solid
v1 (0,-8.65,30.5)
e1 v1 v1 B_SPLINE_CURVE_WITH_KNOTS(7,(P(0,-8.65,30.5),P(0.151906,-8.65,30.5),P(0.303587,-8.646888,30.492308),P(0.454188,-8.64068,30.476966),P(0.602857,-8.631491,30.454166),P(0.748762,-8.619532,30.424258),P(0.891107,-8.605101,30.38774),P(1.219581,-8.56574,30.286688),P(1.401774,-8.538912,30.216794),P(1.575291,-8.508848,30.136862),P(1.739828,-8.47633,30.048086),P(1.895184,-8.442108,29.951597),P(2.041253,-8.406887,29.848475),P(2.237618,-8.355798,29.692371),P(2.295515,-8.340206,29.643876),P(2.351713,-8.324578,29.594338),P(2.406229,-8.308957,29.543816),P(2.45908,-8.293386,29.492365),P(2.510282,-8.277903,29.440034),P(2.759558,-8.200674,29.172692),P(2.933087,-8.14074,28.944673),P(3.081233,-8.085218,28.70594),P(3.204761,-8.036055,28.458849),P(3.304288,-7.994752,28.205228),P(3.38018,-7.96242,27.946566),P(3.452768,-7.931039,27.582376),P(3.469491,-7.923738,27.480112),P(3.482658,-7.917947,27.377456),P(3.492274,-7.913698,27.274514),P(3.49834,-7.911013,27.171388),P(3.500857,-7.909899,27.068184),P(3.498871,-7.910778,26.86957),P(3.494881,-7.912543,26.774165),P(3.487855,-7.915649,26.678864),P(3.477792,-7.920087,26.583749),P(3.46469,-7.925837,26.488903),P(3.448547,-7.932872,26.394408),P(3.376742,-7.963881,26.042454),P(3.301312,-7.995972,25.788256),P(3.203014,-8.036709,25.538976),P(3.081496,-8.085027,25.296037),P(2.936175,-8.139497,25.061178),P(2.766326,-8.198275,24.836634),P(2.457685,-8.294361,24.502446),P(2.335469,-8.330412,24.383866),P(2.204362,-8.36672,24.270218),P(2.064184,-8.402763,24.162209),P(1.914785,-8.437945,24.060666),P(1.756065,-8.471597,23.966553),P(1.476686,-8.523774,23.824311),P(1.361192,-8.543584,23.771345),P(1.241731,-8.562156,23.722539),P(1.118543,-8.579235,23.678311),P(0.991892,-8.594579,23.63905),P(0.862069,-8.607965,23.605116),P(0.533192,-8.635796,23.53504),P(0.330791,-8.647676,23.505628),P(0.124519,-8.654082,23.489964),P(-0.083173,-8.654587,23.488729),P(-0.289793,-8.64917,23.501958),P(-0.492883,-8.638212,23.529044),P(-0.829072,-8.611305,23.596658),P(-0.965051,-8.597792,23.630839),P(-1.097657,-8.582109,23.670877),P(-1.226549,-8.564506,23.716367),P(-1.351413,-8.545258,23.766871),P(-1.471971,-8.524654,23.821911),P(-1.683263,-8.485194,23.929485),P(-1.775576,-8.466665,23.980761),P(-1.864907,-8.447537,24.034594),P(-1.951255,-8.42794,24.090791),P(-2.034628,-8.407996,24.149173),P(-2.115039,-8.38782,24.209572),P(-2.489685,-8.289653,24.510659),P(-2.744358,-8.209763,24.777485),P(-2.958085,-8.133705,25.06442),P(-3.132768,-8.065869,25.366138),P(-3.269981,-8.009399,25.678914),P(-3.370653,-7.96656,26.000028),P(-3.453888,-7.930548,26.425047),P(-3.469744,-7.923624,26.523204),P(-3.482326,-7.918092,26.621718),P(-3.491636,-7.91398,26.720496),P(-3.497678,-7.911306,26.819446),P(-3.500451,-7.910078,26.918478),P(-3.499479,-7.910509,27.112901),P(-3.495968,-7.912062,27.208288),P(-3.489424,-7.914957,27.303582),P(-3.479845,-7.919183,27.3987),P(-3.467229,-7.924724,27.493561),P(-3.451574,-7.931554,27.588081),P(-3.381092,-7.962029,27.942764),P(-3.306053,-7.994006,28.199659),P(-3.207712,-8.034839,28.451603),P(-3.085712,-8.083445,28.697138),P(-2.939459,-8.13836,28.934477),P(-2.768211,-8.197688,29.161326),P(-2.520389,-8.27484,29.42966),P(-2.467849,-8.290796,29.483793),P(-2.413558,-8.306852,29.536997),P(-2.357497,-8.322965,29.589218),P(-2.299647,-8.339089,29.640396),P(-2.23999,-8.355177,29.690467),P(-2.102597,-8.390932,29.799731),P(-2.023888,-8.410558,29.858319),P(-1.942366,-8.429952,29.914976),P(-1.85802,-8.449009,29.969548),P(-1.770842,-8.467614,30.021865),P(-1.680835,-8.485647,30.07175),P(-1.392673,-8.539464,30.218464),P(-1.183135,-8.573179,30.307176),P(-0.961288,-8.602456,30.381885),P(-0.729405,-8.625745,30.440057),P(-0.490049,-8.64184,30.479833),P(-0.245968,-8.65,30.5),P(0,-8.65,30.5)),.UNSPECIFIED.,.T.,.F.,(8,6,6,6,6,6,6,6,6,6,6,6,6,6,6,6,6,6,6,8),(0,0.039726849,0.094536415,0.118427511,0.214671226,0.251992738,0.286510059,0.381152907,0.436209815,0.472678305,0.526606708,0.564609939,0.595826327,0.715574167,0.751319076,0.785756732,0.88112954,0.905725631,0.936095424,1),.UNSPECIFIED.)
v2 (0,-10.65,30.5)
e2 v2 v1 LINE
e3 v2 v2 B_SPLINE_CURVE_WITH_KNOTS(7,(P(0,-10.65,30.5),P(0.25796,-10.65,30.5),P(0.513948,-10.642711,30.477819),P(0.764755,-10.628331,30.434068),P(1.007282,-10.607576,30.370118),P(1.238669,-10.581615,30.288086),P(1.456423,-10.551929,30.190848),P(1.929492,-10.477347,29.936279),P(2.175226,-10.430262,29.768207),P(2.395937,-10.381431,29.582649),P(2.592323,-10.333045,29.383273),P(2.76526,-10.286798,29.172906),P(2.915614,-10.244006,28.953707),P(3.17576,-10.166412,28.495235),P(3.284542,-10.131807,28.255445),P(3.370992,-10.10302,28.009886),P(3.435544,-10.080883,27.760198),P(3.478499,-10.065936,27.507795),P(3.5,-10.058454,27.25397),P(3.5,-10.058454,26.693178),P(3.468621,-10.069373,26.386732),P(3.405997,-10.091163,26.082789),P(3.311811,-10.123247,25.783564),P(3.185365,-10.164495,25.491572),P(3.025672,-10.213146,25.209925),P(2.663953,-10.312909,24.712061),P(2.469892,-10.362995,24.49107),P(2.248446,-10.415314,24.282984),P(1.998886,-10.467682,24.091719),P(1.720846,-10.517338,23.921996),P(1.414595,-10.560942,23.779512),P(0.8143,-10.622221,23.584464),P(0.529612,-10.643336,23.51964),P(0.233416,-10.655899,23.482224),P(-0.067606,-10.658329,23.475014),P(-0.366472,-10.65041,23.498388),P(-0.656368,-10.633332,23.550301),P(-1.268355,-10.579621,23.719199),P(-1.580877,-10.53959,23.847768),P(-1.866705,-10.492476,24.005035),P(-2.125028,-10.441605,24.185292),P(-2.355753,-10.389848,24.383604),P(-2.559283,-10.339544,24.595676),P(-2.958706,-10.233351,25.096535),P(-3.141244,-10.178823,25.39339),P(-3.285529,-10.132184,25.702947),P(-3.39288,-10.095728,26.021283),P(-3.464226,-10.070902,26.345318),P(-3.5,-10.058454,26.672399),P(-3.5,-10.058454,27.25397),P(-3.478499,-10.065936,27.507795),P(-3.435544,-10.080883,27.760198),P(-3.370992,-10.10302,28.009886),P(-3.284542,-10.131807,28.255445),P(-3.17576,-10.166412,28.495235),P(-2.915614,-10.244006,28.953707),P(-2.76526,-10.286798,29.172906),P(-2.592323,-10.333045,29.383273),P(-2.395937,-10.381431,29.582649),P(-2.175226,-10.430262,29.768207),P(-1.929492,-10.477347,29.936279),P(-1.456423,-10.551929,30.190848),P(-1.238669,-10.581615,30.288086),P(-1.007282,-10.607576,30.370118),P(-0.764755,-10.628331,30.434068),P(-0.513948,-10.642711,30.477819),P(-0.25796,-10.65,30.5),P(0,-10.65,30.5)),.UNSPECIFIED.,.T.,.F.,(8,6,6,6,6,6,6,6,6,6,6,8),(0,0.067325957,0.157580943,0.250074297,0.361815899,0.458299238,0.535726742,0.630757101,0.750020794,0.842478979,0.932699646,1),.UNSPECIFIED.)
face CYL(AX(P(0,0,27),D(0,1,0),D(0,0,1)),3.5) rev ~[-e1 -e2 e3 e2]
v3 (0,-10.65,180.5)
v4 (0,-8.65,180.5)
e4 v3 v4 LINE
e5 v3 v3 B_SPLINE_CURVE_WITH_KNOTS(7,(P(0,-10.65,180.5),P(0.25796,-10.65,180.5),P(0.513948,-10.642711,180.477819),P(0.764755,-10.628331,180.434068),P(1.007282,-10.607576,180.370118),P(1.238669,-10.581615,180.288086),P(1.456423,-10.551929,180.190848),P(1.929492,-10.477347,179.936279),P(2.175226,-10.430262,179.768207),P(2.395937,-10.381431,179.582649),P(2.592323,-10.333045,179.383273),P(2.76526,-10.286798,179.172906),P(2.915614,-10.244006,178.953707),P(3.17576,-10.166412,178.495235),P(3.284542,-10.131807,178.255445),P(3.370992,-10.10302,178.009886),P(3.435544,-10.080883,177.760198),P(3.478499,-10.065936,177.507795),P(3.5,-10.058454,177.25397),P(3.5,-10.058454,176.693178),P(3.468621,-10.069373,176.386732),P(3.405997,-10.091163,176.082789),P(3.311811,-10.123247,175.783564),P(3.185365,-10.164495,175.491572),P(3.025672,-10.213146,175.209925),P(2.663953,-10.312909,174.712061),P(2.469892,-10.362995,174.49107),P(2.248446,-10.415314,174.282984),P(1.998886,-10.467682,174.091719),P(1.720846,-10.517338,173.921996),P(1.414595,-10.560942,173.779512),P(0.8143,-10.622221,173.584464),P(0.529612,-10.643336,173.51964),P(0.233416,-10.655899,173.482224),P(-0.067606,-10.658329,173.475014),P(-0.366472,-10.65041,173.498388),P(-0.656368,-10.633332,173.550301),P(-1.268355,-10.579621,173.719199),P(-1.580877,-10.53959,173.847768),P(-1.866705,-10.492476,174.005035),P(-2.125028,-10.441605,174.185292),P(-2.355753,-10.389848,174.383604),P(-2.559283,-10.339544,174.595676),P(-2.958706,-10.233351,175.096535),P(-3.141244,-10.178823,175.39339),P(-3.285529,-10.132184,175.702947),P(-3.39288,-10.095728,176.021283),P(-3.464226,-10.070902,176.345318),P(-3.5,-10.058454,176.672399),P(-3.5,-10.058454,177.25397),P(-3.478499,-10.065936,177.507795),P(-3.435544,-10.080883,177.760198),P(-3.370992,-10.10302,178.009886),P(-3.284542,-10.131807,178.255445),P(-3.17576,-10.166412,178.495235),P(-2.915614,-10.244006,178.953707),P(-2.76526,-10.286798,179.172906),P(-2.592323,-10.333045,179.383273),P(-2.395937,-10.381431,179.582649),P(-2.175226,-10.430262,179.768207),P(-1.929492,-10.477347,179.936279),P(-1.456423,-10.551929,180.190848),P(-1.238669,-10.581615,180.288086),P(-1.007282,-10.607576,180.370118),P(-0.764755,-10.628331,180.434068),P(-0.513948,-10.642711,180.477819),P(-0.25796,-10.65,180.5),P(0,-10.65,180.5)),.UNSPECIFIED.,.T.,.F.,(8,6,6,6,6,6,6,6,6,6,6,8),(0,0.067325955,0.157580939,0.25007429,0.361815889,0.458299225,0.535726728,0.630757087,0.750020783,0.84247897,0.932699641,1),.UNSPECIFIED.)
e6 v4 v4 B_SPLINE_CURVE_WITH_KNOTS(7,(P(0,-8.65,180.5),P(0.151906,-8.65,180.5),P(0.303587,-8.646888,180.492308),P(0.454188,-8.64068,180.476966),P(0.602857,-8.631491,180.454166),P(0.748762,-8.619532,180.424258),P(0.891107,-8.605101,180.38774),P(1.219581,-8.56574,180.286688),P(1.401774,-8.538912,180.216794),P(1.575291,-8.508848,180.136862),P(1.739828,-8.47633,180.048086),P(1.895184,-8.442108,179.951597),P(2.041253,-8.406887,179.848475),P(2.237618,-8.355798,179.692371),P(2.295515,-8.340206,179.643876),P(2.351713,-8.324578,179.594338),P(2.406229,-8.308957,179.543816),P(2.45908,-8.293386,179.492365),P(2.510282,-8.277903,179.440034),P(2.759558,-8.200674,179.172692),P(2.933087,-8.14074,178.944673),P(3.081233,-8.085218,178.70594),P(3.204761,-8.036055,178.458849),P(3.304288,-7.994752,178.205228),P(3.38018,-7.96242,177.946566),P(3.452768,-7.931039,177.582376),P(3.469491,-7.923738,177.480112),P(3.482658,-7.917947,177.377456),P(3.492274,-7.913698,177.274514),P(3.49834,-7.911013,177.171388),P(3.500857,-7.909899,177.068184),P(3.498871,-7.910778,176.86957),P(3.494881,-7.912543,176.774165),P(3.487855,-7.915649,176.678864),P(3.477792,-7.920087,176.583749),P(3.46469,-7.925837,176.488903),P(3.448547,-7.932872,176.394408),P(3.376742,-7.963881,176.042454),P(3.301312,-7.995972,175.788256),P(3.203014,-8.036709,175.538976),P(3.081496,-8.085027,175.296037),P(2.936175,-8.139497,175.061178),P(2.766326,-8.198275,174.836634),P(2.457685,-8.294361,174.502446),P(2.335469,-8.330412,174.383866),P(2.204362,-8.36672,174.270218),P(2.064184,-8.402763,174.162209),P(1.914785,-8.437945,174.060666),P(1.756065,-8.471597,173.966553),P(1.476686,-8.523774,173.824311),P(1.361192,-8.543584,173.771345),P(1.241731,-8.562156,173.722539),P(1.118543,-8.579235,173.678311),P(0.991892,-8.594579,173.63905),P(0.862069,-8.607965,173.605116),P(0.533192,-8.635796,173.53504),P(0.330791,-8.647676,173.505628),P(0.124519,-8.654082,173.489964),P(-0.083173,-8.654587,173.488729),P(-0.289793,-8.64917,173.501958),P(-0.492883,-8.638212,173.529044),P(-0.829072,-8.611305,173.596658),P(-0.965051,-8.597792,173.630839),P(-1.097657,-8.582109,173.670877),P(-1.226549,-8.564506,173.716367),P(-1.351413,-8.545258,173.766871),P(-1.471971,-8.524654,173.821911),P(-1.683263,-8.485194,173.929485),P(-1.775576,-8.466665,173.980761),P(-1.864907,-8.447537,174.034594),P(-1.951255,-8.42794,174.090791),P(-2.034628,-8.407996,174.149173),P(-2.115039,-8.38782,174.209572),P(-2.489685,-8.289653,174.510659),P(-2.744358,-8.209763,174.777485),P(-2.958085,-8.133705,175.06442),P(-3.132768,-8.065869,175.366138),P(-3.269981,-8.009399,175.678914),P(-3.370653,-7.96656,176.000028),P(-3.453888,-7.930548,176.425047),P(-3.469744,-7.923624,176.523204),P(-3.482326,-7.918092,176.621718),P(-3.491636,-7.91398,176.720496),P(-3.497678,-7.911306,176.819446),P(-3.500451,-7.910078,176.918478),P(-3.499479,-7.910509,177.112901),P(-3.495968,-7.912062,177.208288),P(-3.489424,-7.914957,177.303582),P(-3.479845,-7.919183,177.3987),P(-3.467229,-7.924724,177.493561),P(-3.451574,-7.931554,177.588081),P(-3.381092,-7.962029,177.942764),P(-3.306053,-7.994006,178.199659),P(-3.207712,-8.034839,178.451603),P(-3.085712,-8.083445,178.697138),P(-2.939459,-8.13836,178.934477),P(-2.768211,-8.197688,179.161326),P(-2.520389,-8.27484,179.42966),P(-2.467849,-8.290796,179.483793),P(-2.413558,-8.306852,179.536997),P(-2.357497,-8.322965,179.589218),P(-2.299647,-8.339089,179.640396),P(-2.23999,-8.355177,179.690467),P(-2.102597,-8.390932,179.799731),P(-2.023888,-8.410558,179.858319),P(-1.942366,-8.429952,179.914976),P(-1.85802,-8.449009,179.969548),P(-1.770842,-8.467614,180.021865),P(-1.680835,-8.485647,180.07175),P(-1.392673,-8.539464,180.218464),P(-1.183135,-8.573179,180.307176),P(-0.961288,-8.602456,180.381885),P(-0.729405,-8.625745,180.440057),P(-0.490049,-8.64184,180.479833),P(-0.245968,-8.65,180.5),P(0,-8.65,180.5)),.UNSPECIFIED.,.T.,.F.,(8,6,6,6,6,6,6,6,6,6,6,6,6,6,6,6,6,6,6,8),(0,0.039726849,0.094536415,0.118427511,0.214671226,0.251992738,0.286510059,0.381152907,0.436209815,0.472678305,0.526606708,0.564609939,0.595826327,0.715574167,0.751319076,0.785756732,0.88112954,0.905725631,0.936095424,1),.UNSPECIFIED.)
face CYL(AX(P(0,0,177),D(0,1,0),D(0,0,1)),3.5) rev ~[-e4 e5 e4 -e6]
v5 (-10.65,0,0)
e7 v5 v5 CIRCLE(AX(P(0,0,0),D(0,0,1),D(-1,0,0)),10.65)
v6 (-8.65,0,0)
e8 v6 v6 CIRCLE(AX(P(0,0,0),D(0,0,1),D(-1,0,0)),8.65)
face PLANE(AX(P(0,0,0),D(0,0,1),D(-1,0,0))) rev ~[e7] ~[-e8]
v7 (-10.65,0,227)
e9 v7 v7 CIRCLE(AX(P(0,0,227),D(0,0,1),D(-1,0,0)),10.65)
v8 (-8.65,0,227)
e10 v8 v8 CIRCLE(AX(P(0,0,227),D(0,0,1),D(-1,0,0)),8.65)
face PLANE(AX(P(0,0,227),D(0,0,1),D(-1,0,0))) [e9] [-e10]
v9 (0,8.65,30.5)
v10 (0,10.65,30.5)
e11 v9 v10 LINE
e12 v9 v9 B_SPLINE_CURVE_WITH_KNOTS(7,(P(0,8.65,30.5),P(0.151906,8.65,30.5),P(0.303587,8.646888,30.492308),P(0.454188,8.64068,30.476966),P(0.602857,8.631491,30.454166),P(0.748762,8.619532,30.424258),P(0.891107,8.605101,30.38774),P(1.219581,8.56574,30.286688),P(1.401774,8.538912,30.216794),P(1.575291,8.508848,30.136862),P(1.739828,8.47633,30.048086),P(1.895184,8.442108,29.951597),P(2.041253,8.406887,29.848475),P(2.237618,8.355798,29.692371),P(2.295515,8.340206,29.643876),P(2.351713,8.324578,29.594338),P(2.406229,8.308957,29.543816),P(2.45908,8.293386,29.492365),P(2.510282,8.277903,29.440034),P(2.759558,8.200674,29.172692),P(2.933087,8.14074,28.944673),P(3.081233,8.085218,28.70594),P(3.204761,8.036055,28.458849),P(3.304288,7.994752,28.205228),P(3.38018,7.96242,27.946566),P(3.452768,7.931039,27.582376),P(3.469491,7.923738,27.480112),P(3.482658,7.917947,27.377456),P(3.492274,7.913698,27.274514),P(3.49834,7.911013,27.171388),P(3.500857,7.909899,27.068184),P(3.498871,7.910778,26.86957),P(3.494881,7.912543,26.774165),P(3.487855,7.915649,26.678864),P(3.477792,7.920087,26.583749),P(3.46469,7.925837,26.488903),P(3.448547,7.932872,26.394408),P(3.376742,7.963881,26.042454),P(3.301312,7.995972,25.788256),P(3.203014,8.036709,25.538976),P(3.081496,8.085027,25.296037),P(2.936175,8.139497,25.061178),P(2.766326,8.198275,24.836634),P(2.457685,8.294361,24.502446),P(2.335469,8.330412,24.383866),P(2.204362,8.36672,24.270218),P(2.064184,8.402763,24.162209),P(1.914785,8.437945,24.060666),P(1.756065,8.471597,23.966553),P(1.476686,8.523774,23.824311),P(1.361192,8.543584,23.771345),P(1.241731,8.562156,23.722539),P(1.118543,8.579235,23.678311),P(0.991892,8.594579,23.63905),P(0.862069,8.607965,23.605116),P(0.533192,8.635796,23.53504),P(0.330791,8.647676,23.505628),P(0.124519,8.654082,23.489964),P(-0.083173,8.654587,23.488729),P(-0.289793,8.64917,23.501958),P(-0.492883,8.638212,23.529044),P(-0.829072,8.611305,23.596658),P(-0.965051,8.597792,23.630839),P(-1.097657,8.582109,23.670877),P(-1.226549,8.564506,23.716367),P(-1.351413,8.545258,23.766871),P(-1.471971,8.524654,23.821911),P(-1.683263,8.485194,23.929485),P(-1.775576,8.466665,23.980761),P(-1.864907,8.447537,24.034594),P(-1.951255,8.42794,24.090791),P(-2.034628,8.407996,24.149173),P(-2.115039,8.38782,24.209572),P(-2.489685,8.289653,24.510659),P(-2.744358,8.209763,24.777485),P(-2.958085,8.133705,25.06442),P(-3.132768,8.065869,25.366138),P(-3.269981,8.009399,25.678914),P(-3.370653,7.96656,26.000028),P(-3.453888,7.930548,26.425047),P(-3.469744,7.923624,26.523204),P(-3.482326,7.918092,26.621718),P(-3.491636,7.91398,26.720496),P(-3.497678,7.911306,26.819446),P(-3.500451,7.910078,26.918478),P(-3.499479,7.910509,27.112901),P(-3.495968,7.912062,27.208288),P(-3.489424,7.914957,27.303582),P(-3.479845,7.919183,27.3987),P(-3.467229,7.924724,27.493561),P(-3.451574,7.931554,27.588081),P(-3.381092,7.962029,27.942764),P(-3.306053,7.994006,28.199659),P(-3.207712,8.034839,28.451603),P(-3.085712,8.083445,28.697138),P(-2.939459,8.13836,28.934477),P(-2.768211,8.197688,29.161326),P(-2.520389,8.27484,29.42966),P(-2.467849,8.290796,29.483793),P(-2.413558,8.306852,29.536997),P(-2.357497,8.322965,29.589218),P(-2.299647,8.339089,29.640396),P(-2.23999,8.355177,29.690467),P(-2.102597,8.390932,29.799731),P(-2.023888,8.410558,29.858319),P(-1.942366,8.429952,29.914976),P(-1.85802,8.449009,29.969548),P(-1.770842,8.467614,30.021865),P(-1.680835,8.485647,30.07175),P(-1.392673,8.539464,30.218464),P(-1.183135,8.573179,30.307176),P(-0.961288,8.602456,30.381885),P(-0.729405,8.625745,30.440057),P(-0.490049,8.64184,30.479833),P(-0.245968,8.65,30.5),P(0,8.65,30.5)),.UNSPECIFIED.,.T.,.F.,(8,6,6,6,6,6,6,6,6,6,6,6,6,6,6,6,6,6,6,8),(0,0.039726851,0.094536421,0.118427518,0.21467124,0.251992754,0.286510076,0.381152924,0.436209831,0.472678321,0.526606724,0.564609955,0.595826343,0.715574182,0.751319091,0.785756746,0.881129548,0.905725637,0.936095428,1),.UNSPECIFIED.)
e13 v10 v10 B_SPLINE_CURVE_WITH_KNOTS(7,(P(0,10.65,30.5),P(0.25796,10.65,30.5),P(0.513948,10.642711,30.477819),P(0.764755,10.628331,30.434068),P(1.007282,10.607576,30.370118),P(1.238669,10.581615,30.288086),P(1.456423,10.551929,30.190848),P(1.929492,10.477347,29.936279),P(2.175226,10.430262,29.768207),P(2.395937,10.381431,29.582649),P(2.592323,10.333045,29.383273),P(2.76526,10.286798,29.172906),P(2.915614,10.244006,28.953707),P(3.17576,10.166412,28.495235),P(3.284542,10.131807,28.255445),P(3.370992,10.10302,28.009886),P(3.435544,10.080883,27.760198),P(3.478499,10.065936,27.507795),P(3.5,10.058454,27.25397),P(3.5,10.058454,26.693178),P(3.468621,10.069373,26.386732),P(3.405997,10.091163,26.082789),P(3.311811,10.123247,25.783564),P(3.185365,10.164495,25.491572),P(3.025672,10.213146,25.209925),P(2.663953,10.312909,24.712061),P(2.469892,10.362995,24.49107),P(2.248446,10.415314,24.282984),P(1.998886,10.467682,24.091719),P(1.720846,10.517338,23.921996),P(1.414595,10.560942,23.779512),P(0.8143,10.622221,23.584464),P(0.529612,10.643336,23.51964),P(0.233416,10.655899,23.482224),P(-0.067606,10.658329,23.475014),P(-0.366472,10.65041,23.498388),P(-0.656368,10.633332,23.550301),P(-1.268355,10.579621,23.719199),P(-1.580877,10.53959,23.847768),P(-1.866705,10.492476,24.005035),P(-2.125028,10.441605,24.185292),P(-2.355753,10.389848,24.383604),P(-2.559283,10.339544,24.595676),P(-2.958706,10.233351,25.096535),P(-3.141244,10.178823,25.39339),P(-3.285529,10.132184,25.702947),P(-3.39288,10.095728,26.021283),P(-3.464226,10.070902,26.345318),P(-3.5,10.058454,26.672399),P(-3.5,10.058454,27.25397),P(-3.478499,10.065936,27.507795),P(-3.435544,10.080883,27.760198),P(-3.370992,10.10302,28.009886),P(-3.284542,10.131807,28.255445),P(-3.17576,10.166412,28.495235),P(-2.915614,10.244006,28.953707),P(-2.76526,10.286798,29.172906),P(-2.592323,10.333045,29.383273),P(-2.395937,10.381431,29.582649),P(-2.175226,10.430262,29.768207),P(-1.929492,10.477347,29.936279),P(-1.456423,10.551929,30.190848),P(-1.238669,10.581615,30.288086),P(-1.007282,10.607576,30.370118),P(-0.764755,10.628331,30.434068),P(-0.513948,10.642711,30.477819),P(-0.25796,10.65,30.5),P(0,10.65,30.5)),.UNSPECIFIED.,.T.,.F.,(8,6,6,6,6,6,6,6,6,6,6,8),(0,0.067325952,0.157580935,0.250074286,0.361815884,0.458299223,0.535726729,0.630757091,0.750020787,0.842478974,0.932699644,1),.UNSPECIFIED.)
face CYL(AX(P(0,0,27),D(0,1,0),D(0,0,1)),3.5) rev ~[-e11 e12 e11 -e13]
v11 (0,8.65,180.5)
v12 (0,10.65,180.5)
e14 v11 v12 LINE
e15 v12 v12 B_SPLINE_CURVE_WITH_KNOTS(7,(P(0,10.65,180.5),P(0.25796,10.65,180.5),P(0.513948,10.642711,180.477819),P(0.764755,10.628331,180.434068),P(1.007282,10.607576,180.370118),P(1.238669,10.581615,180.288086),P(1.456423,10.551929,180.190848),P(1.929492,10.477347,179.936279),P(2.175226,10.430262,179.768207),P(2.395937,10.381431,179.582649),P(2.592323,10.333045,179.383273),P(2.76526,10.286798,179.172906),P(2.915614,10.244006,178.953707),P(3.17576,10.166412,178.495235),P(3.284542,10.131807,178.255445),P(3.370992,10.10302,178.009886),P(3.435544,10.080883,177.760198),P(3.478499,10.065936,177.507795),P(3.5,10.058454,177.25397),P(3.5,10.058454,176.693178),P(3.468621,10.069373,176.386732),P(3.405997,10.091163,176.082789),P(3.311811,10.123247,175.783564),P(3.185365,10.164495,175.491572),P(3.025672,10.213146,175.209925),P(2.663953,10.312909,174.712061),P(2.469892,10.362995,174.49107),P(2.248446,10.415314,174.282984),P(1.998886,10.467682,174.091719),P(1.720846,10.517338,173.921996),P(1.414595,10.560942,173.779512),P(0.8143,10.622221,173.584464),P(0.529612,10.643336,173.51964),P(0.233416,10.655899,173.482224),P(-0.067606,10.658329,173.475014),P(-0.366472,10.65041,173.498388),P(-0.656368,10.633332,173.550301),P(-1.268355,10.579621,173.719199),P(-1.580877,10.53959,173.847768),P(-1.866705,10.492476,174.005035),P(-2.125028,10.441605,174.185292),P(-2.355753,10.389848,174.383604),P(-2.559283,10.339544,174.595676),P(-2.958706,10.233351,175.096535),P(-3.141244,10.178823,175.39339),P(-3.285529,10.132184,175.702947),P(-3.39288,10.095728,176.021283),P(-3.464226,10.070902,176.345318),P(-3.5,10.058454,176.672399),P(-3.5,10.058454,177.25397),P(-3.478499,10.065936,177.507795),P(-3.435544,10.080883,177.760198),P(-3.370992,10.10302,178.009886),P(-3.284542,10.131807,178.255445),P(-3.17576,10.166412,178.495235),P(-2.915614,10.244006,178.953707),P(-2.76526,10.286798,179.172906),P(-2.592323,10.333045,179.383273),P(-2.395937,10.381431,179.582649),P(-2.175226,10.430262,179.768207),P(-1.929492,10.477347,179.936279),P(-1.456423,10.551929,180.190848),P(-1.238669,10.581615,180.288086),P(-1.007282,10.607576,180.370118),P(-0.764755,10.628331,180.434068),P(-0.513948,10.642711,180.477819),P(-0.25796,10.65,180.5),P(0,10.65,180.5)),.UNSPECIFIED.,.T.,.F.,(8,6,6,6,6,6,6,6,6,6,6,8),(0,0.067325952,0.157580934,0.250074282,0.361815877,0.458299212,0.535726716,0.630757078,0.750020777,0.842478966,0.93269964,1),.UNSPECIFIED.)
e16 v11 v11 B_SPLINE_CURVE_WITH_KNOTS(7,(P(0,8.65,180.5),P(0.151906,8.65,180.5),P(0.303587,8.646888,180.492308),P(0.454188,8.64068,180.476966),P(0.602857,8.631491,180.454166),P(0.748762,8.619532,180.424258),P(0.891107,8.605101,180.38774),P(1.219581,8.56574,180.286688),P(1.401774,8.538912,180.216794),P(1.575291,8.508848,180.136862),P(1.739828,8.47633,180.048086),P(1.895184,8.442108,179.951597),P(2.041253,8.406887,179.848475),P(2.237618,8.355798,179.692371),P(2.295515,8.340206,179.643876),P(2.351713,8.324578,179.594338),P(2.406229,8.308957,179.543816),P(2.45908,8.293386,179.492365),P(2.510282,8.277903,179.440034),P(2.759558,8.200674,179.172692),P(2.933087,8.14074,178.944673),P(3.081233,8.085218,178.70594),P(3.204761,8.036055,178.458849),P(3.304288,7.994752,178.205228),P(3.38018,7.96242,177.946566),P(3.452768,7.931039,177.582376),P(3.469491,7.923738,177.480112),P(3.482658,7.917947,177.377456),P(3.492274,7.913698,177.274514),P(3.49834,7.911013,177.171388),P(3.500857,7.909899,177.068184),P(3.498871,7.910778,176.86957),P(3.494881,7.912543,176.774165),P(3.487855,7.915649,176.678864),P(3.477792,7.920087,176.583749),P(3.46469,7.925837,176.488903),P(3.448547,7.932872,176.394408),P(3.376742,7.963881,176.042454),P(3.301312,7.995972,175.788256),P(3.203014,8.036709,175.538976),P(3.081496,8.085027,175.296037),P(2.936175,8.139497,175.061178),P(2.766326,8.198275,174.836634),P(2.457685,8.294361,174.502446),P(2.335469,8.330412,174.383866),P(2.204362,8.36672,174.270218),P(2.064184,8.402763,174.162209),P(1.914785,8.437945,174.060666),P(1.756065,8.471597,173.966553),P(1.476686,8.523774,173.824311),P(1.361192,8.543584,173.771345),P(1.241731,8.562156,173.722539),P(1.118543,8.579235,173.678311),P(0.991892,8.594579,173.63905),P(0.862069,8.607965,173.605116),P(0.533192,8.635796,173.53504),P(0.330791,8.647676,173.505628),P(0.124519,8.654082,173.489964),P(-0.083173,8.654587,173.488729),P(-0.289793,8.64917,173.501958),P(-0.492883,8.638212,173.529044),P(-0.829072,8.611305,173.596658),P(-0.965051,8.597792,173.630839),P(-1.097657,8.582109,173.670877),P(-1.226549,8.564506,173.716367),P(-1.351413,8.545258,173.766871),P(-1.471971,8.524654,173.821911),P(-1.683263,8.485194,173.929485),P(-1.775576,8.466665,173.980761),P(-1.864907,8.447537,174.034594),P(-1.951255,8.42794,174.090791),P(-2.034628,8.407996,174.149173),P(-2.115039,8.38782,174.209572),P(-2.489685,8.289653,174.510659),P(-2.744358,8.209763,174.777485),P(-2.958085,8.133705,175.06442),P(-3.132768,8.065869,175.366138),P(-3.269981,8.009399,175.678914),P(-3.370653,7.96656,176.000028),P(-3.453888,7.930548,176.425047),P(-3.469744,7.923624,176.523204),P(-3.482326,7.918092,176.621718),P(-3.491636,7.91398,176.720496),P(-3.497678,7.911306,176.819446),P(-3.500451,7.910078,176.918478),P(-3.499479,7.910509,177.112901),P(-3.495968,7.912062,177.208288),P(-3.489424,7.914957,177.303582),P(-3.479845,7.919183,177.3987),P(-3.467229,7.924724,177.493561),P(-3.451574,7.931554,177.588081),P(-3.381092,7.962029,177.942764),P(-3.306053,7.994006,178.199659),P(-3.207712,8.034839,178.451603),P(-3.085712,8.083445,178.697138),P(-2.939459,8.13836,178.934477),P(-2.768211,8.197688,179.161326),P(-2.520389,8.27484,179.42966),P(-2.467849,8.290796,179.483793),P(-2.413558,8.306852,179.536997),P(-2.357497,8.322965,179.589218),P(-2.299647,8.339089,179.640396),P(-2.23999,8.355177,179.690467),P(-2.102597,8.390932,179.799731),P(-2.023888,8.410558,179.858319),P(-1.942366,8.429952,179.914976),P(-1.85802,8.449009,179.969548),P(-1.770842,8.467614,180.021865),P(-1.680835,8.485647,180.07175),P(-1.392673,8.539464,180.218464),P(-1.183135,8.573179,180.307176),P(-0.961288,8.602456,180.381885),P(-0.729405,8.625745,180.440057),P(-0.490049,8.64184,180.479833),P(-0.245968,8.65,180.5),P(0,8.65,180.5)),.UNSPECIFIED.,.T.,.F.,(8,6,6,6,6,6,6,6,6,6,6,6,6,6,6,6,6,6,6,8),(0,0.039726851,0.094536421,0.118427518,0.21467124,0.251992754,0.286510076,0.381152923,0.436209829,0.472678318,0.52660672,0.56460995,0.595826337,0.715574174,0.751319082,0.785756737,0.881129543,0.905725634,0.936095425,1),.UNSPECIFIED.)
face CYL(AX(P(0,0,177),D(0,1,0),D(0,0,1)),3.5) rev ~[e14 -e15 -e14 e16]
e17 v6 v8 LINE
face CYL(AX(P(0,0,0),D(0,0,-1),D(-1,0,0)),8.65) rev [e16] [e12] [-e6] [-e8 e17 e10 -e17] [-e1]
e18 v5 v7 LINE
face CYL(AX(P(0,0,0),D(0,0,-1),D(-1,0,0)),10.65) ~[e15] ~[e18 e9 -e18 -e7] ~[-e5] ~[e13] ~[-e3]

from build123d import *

# Parameters (mm, degrees)
SKETCH1_R           = 10.65
SKETCH1_R_2         = 8.65
BOSS_EXTRUDE1_DEPTH = 227
SKETCH2_R           = 3.5
CUT_EXTRUDE1_DEPTH  = 228.499109888
LPATTERN1_COUNT     = 2
LPATTERN1_PITCH     = 150


with BuildPart() as part:
    # Sketch1 → Boss-Extrude1 (new body)
    with BuildSketch(Plane.XY):
        with Locations(Location((0, 0, 0), (0, 0, 180))):
            Circle(SKETCH1_R)
        with Locations(Location((0, 0, 0), (0, 0, 180))):
            Circle(SKETCH1_R_2, mode=Mode.SUBTRACT)
    extrude(amount=BOSS_EXTRUDE1_DEPTH)

    # Sketch2 → Cut-Extrude1 (cut, symmetric)
    with BuildSketch(Plane(origin=(0, 0, 0), x_dir=(1, 0, 0), z_dir=(0, 1, 0))):
        with Locations(Location((0, -177, 0), (0, 0, 270))):
            Circle(SKETCH2_R)
    cut_extrude1 = extrude(amount=CUT_EXTRUDE1_DEPTH, both=True, mode=Mode.SUBTRACT)

    # LPattern1: Cut-Extrude1 ×2
    with Locations(*[(0, 0, -i * LPATTERN1_PITCH) for i in range(1, LPATTERN1_COUNT)]):
        add(cut_extrude1, mode=Mode.SUBTRACT)


solid = part.part
